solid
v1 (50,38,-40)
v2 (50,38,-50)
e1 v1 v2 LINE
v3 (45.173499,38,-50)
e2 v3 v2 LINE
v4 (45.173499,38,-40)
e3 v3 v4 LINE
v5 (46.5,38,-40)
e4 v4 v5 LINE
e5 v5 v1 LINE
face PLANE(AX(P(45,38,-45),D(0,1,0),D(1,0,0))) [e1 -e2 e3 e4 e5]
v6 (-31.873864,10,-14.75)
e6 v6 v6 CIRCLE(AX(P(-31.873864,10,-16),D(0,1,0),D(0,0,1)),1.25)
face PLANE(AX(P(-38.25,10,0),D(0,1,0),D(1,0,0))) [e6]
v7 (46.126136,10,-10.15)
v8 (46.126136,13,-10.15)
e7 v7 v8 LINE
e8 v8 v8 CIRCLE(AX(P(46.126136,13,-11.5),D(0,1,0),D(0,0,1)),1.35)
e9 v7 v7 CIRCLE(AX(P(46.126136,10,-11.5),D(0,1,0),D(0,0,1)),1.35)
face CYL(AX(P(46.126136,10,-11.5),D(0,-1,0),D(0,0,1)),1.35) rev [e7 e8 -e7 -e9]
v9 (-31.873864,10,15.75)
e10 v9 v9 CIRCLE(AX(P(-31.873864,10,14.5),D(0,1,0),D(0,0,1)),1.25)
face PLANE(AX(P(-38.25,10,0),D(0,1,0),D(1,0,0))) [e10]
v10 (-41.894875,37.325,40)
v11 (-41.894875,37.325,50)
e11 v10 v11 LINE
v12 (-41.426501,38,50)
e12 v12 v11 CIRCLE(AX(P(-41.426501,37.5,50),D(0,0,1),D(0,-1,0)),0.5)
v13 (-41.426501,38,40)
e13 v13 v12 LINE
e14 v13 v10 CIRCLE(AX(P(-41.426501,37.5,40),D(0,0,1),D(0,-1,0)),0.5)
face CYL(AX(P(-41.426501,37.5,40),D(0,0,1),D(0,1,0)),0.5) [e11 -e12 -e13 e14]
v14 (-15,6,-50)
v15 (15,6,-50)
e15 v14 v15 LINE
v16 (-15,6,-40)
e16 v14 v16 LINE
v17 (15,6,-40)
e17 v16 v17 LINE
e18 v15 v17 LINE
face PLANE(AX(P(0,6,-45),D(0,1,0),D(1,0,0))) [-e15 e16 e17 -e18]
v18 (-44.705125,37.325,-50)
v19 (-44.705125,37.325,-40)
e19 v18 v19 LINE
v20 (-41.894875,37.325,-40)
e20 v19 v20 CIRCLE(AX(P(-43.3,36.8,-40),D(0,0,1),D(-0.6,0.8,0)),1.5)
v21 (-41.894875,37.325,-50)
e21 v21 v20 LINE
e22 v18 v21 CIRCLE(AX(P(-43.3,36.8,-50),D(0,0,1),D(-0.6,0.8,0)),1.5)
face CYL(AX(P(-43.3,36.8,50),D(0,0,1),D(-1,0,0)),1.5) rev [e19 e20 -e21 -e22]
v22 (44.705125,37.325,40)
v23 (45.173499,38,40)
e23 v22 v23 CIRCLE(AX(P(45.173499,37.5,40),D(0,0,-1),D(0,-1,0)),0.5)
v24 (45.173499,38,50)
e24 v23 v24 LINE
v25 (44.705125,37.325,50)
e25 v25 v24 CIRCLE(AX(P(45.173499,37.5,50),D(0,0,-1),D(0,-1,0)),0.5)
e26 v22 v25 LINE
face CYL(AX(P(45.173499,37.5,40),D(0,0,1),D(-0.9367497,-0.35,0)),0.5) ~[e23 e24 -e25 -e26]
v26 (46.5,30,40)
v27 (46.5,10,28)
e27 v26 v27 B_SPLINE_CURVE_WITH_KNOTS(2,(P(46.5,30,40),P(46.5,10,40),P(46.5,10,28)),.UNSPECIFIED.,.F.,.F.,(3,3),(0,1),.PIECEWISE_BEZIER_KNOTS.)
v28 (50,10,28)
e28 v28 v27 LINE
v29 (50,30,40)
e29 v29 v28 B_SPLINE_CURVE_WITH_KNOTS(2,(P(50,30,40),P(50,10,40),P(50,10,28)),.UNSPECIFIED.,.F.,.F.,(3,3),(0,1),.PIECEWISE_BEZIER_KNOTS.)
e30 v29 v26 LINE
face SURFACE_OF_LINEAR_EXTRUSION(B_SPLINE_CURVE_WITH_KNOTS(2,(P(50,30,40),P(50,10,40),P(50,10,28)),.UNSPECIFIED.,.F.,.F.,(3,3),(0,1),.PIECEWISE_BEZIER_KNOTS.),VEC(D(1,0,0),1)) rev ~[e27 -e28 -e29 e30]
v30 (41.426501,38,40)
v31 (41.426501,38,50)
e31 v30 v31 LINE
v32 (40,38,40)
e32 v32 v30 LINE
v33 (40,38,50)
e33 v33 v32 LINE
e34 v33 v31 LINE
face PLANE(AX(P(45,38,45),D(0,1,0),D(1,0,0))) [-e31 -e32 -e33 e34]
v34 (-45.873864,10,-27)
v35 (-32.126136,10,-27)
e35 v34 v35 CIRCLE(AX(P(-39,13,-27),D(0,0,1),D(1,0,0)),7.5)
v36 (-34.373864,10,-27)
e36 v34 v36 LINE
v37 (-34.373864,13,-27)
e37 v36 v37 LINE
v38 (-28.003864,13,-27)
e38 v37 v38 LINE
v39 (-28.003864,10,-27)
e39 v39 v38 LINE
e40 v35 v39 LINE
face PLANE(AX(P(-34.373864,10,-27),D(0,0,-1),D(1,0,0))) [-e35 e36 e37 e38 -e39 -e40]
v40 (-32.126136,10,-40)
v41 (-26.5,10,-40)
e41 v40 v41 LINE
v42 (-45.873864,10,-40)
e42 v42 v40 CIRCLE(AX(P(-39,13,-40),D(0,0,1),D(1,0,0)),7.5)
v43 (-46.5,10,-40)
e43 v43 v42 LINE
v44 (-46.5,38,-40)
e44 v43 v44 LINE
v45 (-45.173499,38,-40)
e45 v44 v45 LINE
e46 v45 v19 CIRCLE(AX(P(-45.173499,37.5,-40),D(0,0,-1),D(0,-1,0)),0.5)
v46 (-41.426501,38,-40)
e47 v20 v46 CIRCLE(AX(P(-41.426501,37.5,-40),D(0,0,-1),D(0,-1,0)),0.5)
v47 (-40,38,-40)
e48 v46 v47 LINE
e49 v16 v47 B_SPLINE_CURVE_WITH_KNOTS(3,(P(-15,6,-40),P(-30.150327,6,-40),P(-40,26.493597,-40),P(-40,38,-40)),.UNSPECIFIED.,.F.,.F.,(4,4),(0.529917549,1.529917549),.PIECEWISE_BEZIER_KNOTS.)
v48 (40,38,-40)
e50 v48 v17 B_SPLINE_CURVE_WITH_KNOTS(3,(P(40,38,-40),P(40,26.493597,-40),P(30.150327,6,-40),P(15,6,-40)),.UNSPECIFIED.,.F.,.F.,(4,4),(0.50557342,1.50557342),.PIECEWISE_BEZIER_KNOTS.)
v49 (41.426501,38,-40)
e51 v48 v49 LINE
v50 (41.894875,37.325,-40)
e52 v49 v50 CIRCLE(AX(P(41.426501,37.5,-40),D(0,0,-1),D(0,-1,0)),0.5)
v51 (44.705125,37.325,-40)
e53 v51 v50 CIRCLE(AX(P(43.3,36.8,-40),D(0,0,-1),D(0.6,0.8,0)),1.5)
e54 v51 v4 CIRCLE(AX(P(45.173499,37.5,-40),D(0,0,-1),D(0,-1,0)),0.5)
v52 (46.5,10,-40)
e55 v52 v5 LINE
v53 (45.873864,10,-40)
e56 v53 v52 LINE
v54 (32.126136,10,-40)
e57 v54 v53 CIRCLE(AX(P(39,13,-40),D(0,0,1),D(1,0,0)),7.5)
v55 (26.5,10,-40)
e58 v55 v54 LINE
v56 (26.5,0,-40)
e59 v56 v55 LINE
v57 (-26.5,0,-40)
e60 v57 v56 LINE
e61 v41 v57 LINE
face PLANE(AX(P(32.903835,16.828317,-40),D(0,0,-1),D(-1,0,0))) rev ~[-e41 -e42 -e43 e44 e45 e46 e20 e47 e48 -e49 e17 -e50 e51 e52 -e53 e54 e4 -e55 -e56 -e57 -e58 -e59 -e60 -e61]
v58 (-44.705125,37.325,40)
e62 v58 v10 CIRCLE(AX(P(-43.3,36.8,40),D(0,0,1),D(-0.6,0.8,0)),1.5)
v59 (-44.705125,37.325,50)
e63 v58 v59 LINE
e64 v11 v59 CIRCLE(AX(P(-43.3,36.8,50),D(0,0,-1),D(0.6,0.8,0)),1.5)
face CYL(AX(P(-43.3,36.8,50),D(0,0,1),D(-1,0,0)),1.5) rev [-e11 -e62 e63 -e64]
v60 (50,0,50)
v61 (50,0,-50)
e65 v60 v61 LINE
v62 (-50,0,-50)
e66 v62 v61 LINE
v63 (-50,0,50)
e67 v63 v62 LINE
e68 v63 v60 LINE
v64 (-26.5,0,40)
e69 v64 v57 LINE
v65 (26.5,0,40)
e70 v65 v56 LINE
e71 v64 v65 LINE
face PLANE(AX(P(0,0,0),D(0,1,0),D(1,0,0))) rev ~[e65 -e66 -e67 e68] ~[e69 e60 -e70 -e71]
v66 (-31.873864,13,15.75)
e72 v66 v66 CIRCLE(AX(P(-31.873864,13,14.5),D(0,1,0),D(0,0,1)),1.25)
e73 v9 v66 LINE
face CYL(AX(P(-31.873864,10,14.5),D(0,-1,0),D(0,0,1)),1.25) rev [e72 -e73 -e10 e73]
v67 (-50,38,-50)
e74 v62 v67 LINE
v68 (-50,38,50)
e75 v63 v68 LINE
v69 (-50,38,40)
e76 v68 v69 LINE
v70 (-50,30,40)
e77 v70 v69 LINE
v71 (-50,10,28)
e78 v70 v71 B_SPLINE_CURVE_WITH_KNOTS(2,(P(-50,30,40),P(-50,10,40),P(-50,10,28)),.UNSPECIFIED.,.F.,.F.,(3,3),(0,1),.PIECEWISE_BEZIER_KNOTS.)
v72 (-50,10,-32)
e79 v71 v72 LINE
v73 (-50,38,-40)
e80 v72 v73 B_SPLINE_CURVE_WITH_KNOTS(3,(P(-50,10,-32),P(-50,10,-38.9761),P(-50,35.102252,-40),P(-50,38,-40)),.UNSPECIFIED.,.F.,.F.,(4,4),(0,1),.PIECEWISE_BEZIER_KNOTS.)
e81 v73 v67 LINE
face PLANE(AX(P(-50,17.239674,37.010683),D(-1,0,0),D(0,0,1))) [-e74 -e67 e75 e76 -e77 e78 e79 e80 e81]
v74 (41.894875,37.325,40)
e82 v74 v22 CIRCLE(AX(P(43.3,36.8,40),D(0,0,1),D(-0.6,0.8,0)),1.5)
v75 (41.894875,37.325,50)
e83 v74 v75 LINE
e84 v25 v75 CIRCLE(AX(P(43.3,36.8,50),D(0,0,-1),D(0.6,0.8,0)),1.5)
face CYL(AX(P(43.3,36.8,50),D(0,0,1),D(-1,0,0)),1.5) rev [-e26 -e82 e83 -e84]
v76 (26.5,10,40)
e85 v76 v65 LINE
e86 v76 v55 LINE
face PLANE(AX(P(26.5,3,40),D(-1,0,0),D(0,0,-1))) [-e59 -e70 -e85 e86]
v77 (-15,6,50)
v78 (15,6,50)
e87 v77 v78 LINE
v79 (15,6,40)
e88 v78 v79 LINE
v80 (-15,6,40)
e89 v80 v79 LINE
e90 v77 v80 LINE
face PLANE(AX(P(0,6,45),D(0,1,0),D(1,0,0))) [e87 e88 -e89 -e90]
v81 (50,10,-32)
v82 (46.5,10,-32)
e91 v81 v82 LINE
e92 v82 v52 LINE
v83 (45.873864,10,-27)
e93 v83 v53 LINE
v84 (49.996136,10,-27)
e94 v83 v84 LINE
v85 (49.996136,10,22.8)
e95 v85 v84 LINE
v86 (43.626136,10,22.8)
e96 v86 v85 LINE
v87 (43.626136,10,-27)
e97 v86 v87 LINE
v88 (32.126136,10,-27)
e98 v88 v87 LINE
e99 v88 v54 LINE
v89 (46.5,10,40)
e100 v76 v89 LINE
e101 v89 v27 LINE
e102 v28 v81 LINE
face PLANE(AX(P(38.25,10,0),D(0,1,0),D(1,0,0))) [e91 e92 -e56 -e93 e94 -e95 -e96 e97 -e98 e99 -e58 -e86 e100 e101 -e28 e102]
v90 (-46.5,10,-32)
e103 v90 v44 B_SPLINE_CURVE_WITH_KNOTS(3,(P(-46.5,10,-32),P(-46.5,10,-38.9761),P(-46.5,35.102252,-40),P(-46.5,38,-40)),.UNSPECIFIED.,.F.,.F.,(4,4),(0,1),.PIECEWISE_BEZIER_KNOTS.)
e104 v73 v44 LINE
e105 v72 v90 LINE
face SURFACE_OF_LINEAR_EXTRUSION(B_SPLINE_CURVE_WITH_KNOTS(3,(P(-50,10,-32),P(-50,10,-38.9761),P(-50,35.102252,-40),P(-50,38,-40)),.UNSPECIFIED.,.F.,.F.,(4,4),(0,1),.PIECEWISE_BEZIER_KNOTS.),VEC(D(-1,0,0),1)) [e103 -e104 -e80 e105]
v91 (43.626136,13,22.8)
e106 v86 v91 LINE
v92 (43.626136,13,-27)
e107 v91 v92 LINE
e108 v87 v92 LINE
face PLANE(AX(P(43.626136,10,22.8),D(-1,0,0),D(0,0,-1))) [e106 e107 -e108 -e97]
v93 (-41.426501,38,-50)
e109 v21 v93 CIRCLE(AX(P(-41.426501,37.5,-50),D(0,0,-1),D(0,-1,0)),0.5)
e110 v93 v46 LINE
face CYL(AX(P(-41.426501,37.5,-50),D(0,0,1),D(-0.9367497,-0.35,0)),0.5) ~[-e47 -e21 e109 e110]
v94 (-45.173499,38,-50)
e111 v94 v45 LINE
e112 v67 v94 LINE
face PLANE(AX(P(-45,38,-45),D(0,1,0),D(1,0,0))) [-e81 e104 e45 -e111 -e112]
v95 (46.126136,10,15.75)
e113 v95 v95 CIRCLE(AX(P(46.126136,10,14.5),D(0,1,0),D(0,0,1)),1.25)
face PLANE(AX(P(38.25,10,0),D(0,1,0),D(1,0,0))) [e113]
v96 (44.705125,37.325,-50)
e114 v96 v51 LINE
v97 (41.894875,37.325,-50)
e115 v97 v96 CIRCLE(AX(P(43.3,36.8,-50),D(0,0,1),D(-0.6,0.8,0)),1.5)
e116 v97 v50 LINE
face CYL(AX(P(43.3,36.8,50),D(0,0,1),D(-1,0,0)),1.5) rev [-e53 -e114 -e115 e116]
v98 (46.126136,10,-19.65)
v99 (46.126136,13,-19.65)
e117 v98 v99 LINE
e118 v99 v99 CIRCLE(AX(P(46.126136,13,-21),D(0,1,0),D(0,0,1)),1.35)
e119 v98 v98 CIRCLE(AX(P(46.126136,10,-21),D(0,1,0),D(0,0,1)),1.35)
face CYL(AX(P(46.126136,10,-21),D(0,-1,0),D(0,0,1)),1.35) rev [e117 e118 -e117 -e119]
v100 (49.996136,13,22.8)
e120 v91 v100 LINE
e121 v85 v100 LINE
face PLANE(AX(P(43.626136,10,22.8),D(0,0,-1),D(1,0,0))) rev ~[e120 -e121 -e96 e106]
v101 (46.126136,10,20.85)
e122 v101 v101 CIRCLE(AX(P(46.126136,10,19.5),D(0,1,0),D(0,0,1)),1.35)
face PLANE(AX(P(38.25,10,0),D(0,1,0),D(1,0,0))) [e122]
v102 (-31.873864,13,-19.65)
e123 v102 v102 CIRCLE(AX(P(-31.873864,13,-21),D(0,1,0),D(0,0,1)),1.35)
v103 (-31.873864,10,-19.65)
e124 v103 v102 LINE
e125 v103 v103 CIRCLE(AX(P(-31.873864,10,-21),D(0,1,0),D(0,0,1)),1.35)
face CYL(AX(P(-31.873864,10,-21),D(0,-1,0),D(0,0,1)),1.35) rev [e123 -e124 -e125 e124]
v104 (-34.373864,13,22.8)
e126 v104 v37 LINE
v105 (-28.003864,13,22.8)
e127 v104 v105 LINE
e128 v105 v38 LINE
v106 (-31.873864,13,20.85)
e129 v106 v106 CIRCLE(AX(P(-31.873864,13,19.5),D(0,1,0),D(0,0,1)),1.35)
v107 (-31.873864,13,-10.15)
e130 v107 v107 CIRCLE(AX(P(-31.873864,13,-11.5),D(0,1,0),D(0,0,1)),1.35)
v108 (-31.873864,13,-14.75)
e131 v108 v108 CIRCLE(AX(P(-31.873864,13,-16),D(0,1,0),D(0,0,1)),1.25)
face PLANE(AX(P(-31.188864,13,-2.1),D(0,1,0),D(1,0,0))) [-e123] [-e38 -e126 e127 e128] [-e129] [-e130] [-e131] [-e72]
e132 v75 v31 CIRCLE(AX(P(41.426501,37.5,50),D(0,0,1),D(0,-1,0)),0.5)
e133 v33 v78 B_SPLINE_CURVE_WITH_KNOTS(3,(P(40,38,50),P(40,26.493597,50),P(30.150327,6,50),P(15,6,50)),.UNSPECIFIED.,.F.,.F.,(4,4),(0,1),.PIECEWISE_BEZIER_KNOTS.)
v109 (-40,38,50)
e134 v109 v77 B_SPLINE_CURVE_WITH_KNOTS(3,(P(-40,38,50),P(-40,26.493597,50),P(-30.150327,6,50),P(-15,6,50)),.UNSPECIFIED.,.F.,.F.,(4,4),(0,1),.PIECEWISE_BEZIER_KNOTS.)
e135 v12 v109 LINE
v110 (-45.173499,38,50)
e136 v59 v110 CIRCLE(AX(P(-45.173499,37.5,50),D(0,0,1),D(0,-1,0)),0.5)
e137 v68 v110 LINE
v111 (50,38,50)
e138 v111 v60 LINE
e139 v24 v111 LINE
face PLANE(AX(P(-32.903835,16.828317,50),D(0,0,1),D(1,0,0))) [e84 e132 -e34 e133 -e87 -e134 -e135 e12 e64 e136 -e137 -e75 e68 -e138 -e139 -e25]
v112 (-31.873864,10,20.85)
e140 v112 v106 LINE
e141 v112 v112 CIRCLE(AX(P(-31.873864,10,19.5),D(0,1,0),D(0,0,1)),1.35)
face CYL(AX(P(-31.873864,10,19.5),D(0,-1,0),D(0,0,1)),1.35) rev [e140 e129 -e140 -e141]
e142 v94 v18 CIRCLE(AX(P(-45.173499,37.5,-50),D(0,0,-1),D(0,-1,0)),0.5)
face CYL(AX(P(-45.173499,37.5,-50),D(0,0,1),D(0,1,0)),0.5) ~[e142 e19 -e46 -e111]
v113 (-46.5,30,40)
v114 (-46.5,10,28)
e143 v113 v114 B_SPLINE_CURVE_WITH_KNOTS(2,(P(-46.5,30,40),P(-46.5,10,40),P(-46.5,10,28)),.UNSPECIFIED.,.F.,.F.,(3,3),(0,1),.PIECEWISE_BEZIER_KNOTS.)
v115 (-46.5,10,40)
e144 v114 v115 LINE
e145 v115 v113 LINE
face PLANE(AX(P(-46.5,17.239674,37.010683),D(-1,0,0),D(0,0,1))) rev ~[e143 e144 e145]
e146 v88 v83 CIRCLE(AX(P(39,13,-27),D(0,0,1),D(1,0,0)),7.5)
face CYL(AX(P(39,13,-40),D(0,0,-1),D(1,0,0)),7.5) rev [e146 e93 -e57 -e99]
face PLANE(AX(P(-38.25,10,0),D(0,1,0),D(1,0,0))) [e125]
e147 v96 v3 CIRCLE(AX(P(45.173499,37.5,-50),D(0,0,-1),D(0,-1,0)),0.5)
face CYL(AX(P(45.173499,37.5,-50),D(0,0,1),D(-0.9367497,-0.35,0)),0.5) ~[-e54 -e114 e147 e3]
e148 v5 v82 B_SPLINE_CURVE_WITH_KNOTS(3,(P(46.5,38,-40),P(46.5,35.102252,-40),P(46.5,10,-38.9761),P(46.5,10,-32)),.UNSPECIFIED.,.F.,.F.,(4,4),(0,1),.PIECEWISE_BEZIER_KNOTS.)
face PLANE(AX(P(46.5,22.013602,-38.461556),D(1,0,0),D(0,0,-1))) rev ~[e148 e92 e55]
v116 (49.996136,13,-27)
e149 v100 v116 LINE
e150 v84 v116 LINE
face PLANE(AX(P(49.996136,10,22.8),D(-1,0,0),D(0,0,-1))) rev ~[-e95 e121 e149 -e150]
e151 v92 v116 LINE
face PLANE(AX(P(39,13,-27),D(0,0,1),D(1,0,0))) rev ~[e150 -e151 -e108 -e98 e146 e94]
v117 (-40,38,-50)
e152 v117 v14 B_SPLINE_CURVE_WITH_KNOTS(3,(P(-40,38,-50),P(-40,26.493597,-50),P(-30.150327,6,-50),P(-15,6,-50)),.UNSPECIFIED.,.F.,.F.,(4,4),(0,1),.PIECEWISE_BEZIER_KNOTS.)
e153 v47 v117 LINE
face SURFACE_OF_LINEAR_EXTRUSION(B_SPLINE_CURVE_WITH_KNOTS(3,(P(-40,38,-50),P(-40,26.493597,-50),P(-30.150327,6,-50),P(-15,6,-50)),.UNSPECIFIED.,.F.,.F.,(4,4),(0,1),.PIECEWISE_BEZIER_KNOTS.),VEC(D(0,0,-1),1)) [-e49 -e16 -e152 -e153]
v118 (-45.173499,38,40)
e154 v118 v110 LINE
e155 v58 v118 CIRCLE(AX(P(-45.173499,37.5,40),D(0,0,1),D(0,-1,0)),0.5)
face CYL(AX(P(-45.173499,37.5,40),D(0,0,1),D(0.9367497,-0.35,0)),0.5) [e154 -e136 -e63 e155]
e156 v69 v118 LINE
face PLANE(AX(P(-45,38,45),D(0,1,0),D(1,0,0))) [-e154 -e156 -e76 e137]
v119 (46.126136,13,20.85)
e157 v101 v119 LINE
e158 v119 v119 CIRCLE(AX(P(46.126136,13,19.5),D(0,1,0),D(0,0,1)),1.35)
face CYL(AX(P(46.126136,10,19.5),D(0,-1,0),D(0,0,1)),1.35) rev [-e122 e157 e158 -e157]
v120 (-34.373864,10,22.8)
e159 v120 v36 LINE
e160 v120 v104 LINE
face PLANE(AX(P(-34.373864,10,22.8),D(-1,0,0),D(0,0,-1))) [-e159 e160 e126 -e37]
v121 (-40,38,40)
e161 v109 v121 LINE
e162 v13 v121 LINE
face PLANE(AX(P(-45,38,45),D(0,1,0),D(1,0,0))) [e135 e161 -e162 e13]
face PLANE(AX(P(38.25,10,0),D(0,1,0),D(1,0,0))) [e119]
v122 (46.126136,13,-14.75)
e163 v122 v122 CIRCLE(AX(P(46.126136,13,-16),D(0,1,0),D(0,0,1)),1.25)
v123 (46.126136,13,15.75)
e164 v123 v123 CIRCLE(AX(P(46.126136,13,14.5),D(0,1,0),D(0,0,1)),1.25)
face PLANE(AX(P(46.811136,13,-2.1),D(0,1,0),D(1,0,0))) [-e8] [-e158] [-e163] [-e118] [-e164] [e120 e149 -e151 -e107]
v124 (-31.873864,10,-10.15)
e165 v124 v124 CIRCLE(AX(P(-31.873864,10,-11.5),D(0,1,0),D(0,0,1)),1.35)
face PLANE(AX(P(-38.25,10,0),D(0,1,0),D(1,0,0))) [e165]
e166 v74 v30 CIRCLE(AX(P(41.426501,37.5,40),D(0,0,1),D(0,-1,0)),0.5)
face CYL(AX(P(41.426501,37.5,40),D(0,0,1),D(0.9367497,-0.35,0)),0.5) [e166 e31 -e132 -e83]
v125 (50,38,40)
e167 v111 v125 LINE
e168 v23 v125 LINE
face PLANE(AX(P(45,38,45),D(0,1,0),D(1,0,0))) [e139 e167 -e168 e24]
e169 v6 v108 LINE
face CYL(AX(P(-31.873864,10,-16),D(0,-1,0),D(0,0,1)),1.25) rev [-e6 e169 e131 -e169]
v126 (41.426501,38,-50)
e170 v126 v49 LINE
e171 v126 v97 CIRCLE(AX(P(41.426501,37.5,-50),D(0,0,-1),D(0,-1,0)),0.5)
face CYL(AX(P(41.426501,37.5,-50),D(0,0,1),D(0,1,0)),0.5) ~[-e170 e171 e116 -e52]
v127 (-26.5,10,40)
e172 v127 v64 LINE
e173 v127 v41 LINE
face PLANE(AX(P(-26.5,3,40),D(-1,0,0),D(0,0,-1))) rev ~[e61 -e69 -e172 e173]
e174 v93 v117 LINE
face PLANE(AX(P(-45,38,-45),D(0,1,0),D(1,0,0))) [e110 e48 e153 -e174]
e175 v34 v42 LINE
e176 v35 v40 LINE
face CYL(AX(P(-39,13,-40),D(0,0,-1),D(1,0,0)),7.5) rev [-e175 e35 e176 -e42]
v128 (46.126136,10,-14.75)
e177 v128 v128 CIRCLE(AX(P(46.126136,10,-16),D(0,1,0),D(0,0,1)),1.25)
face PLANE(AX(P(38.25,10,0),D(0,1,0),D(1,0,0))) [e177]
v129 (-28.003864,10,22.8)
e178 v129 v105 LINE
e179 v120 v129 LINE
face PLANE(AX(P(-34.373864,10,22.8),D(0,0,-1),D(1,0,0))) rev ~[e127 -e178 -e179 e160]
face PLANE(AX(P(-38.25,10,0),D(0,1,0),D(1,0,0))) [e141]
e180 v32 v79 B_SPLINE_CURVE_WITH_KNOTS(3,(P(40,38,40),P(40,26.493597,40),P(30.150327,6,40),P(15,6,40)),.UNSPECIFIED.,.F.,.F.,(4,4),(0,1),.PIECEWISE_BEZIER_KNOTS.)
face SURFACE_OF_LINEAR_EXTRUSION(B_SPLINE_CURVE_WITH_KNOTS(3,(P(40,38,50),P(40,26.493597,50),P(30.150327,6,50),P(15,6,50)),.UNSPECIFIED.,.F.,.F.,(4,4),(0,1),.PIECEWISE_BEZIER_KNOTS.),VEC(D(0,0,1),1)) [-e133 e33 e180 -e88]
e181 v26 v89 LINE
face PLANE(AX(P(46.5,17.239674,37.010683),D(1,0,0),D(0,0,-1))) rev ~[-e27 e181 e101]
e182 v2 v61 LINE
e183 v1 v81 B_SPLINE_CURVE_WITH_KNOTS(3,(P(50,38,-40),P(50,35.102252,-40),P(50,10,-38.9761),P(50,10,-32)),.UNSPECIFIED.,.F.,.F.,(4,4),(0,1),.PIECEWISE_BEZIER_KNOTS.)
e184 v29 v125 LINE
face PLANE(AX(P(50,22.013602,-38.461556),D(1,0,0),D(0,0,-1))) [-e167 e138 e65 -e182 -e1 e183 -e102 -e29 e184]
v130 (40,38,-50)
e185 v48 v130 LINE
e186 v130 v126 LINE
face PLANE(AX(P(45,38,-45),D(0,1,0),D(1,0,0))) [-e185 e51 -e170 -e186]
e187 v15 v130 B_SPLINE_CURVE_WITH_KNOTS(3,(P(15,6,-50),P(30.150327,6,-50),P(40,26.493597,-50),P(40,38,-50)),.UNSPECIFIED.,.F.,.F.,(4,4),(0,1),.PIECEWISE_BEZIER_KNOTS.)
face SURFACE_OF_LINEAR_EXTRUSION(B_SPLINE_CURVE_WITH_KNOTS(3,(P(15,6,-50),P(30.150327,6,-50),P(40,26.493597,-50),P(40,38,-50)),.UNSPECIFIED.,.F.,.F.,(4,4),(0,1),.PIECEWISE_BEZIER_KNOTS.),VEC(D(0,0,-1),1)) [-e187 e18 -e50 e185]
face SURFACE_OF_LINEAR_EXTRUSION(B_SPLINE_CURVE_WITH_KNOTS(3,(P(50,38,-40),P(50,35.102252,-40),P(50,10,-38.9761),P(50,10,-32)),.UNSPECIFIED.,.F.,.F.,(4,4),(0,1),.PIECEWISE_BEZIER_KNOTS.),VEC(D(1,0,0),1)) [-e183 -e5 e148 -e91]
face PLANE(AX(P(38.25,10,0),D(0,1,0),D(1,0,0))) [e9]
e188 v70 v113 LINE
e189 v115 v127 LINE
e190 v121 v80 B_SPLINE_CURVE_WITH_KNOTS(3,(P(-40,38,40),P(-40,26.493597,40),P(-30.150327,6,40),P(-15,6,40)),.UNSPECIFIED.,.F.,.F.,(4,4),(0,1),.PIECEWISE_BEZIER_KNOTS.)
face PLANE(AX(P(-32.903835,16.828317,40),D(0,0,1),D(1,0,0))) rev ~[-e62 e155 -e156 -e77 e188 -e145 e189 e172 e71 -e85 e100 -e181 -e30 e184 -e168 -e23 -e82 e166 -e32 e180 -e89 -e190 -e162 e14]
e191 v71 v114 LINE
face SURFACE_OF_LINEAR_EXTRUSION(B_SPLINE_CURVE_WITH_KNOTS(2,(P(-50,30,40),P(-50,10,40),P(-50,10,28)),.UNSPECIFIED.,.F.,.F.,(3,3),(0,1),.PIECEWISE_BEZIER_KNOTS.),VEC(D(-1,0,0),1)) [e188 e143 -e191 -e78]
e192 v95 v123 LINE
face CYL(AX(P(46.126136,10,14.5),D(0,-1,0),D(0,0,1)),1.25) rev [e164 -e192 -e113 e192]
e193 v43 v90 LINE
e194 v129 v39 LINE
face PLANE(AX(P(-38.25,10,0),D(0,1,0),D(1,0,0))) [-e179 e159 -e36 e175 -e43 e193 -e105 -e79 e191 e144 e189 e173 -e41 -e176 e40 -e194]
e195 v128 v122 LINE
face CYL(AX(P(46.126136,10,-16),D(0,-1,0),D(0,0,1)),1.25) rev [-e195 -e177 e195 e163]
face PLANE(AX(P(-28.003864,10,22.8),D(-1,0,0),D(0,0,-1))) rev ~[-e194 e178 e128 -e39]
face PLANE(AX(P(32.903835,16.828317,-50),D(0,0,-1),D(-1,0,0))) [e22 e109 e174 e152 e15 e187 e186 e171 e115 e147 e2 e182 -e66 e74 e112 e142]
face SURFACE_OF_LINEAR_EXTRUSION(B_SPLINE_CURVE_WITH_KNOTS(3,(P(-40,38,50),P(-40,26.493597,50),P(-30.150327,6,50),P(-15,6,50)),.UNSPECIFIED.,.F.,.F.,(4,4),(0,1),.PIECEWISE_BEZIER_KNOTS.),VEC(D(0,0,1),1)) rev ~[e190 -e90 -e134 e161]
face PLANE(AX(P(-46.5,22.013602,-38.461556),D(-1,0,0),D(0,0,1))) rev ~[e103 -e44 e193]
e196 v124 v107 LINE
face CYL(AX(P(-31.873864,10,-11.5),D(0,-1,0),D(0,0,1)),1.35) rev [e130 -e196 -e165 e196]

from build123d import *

# Parameters (mm, degrees)
SKETCH_1_W          = 100
SKETCH_1_H          = 100
EXTRUDE_1_DEPTH     = 3
SKETCH_2_W          = 10
SKETCH_2_H          = 10
EXTRUDE_2_DEPTH     = 35
CUT_EXTRUDE_START   = -100
SKETCH_5_R          = 1.5
CUT_EXTRUDE_2_DEPTH = 100
FILLET_1_R          = 0.5
SKETCH_7_W          = 80
SKETCH_7_H          = 10
EXTRUDE_3_DEPTH     = 3
EXTRUDE_4_DEPTH     = 10
EXTRUDE_5_DEPTH     = 10
SKETCH_13_W         = 23.5
SKETCH_13_H         = 80
EXTRUDE_6_DEPTH     = 7
EXTRUDE_8_DEPTH     = 3.5
EXTRUDE_9_DEPTH     = 3.5
SKETCH_12_R         = 7.5
CUT_EXTRUDE_3_DEPTH = 13
SKETCH_14_W         = 6.37
SKETCH_14_H         = 49.8
SKETCH_14_R         = 1.35
SKETCH_14_R_2       = 1.25
EXTRUDE_7_DEPTH     = 3
SKETCH_3_W          = 53
SKETCH_3_H          = 80
CUT_EXTRUDE_1_DEPTH = 3


with BuildPart() as part:
    # 草图1 → 凸台-拉伸1 (new body)
    with BuildSketch(Plane(origin=(0, 0, 0), x_dir=(1, 0, 0), z_dir=(0, 1, 0))):
        Rectangle(SKETCH_1_W, SKETCH_1_H)
    extrude(amount=EXTRUDE_1_DEPTH)

    # 草图2 → 凸台-拉伸2 (add)
    with BuildSketch(Plane(origin=(0, 3, 0), x_dir=(1, 0, 0), z_dir=(0, 1, 0))):
        with Locations((45, 45)):
            Rectangle(SKETCH_2_W, SKETCH_2_H)
        with Locations((-45, 45)):
            Rectangle(SKETCH_2_W, SKETCH_2_H)
        with Locations((45, -45)):
            Rectangle(SKETCH_2_W, SKETCH_2_H)
        with Locations((-45, -45)):
            Rectangle(SKETCH_2_W, SKETCH_2_H)
    extrude(amount=EXTRUDE_2_DEPTH)

    # 草图5 → 切除-拉伸2 (cut)
    with BuildSketch(Plane(origin=(0, 0, -50), x_dir=(-1, 0, 0), z_dir=(0, 0, -1)).offset(CUT_EXTRUDE_START)):
        with Locations((-43.3, 36.8)):
            Circle(SKETCH_5_R)
        with Locations((43.3, 36.8)):
            Circle(SKETCH_5_R)
    extrude(amount=CUT_EXTRUDE_2_DEPTH, mode=Mode.SUBTRACT)

    # 圆角1
    fillet_1_edges = [part.edges().sort_by_distance(p)[0] for p in [
        (-44.2, 38, 45),
        (-42.4, 38, 45),
        (42.4, 38, 45),
        (44.2, 38, 45),
        (-42.4, 38, -45),
        (-44.2, 38, -45),
        (44.2, 38, -45),
        (42.4, 38, -45),
    ]]
    fillet(fillet_1_edges, radius=FILLET_1_R)

    # 草图7 → 凸台-拉伸3 (add)
    with BuildSketch(Plane(origin=(0, 3, 0), x_dir=(1, 0, 0), z_dir=(0, 1, 0))):
        with Locations((0, -45)):
            Rectangle(SKETCH_7_W, SKETCH_7_H)
        with Locations((0, 45)):
            Rectangle(SKETCH_7_W, SKETCH_7_H)
    extrude(amount=EXTRUDE_3_DEPTH)

    # 草图8 → 凸台-拉伸4 (add)
    with BuildSketch(Plane.XY.offset(50)):
        with BuildLine():
            Line((-40, 38), (-40, 6))
            Line((-40, 6), (-15, 6))
            add(Edge.make_bspline(
                [(-40, 38), (-40, 26.493596618), (-30.150326601, 6), (-15, 6)],
                knots=[0, 0, 0, 0, 1, 1, 1, 1], degree=3))
        make_face()
        with BuildLine():
            Line((40, 6), (15, 6))
            add(Edge.make_bspline(
                [(40, 38), (40, 26.493596618), (30.150326601, 6), (15, 6)],
                knots=[0, 0, 0, 0, 1, 1, 1, 1], degree=3))
            Line((40, 38), (40, 6))
        make_face()
    extrude(amount=-EXTRUDE_4_DEPTH)

    # 草图9 → 凸台-拉伸5 (add)
    with BuildSketch(Plane(origin=(0, 0, -50), x_dir=(-1, 0, 0), z_dir=(0, 0, -1))):
        with BuildLine():
            Line((-40, 6), (-15, 6))
            add(Edge.make_bspline(
                [(-15, 6), (-30.150326601, 6), (-40, 26.493596618), (-40, 38)],
                knots=[0, 0, 0, 0, 1, 1, 1, 1], degree=3))
            Line((-40, 38), (-40, 6))
        make_face()
        with BuildLine():
            Line((40, 6), (40, 38))
            add(Edge.make_bspline(
                [(40, 38), (40, 26.493596618), (30.150326601, 6), (15, 6)],
                knots=[0, 0, 0, 0, 1, 1, 1, 1], degree=3))
            Line((15, 6), (40, 6))
        make_face()
    extrude(amount=-EXTRUDE_5_DEPTH)

    # 草图13 → 凸台-拉伸6 (add)
    with BuildSketch(Plane(origin=(0, 3, 0), x_dir=(1, 0, 0), z_dir=(0, 1, 0))):
        with Locations((-38.25, 0)):
            Rectangle(SKETCH_13_W, SKETCH_13_H)
        with Locations((38.25, 0)):
            Rectangle(SKETCH_13_W, SKETCH_13_H)
    extrude(amount=EXTRUDE_6_DEPTH)

    # 草图17 → 凸台-拉伸8 (add)
    with BuildSketch(Plane(origin=(50, 0, 0), x_dir=(0, 0, -1), z_dir=(1, 0, 0))):
        with BuildLine():
            Line((32, 10), (40, 10))
            Line((40, 10), (40, 38))
            add(Edge.make_bspline(
                [(40, 38), (40, 35.102252049), (38.976100097, 10), (32, 10)],
                knots=[0, 0, 0, 0, 1, 1, 1, 1], degree=3))
        make_face()
        with BuildLine():
            Line((-40, 30), (-40, 10))
            Line((-40, 10), (-28, 10))
            add(Edge.make_bspline(
                [(-40, 30), (-40, 10), (-28, 10)],
                knots=[0, 0, 0, 1, 1, 1], degree=2))
        make_face()
    extrude(amount=-EXTRUDE_8_DEPTH)

    # 草图18 → 凸台-拉伸9 (add)
    with BuildSketch(Plane.ZY.offset(50)):
        with BuildLine():
            Line((40, 10), (40, 30))
            add(Edge.make_bspline(
                [(40, 30), (40, 10), (28, 10)],
                knots=[0, 0, 0, 1, 1, 1], degree=2))
            Line((28, 10), (40, 10))
        make_face()
        with BuildLine():
            Line((-40, 10), (-32, 10))
            add(Edge.make_bspline(
                [(-32, 10), (-38.976100097, 10), (-40, 35.102252049), (-40, 38)],
                knots=[0, 0, 0, 0, 1, 1, 1, 1], degree=3))
            Line((-40, 38), (-40, 10))
        make_face()
    extrude(amount=-EXTRUDE_9_DEPTH)

    # 草图12 → 切除-拉伸3 (cut)
    with BuildSketch(Plane.XY.offset(-40)):
        with Locations((-39, 13)):
            Circle(SKETCH_12_R)
        with Locations((39, 13)):
            Circle(SKETCH_12_R)
    extrude(amount=CUT_EXTRUDE_3_DEPTH, mode=Mode.SUBTRACT)

    # 草图14 → 凸台-拉伸7 (add)
    # profile 1 of 2: a face of its own
    with BuildSketch(Plane(origin=(0, 10, 0), x_dir=(1, 0, 0), z_dir=(0, 1, 0))):
        with Locations((-31.188863542, 2.1)):
            Rectangle(SKETCH_14_W, SKETCH_14_H)
        with Locations(Location((-31.873863542, 21, 0), (0, 0, 270))):
            Circle(SKETCH_14_R, mode=Mode.SUBTRACT)
        with Locations(Location((-31.873863542, 16, 0), (0, 0, 270))):
            Circle(SKETCH_14_R_2, mode=Mode.SUBTRACT)
        with Locations(Location((-31.873863542, 11.5, 0), (0, 0, 270))):
            Circle(SKETCH_14_R, mode=Mode.SUBTRACT)
        with Locations(Location((-31.873863542, -14.5, 0), (0, 0, 270))):
            Circle(SKETCH_14_R_2, mode=Mode.SUBTRACT)
        with Locations(Location((-31.873863542, -19.5, 0), (0, 0, 270))):
            Circle(SKETCH_14_R, mode=Mode.SUBTRACT)
    # profile 2 of 2: a face of its own
    with BuildSketch(Plane(origin=(0, 10, 0), x_dir=(1, 0, 0), z_dir=(0, 1, 0))):
        with Locations((46.811136458, 2.1)):
            Rectangle(SKETCH_14_W, SKETCH_14_H)
        with Locations(Location((46.126136458, 21, 0), (0, 0, 270))):
            Circle(SKETCH_14_R, mode=Mode.SUBTRACT)
        with Locations(Location((46.126136458, 16, 0), (0, 0, 270))):
            Circle(SKETCH_14_R_2, mode=Mode.SUBTRACT)
        with Locations(Location((46.126136458, 11.5, 0), (0, 0, 270))):
            Circle(SKETCH_14_R, mode=Mode.SUBTRACT)
        with Locations(Location((46.126136458, -14.5, 0), (0, 0, 270))):
            Circle(SKETCH_14_R_2, mode=Mode.SUBTRACT)
        with Locations(Location((46.126136458, -19.5, 0), (0, 0, 270))):
            Circle(SKETCH_14_R, mode=Mode.SUBTRACT)
    extrude(amount=EXTRUDE_7_DEPTH)

    # 草图3 → 切除-拉伸1 (cut)
    with BuildSketch(Plane(origin=(0, 3, 0), x_dir=(1, 0, 0), z_dir=(0, 1, 0))):
        Rectangle(SKETCH_3_W, SKETCH_3_H)
    extrude(amount=-CUT_EXTRUDE_1_DEPTH, mode=Mode.SUBTRACT)


solid = part.part
